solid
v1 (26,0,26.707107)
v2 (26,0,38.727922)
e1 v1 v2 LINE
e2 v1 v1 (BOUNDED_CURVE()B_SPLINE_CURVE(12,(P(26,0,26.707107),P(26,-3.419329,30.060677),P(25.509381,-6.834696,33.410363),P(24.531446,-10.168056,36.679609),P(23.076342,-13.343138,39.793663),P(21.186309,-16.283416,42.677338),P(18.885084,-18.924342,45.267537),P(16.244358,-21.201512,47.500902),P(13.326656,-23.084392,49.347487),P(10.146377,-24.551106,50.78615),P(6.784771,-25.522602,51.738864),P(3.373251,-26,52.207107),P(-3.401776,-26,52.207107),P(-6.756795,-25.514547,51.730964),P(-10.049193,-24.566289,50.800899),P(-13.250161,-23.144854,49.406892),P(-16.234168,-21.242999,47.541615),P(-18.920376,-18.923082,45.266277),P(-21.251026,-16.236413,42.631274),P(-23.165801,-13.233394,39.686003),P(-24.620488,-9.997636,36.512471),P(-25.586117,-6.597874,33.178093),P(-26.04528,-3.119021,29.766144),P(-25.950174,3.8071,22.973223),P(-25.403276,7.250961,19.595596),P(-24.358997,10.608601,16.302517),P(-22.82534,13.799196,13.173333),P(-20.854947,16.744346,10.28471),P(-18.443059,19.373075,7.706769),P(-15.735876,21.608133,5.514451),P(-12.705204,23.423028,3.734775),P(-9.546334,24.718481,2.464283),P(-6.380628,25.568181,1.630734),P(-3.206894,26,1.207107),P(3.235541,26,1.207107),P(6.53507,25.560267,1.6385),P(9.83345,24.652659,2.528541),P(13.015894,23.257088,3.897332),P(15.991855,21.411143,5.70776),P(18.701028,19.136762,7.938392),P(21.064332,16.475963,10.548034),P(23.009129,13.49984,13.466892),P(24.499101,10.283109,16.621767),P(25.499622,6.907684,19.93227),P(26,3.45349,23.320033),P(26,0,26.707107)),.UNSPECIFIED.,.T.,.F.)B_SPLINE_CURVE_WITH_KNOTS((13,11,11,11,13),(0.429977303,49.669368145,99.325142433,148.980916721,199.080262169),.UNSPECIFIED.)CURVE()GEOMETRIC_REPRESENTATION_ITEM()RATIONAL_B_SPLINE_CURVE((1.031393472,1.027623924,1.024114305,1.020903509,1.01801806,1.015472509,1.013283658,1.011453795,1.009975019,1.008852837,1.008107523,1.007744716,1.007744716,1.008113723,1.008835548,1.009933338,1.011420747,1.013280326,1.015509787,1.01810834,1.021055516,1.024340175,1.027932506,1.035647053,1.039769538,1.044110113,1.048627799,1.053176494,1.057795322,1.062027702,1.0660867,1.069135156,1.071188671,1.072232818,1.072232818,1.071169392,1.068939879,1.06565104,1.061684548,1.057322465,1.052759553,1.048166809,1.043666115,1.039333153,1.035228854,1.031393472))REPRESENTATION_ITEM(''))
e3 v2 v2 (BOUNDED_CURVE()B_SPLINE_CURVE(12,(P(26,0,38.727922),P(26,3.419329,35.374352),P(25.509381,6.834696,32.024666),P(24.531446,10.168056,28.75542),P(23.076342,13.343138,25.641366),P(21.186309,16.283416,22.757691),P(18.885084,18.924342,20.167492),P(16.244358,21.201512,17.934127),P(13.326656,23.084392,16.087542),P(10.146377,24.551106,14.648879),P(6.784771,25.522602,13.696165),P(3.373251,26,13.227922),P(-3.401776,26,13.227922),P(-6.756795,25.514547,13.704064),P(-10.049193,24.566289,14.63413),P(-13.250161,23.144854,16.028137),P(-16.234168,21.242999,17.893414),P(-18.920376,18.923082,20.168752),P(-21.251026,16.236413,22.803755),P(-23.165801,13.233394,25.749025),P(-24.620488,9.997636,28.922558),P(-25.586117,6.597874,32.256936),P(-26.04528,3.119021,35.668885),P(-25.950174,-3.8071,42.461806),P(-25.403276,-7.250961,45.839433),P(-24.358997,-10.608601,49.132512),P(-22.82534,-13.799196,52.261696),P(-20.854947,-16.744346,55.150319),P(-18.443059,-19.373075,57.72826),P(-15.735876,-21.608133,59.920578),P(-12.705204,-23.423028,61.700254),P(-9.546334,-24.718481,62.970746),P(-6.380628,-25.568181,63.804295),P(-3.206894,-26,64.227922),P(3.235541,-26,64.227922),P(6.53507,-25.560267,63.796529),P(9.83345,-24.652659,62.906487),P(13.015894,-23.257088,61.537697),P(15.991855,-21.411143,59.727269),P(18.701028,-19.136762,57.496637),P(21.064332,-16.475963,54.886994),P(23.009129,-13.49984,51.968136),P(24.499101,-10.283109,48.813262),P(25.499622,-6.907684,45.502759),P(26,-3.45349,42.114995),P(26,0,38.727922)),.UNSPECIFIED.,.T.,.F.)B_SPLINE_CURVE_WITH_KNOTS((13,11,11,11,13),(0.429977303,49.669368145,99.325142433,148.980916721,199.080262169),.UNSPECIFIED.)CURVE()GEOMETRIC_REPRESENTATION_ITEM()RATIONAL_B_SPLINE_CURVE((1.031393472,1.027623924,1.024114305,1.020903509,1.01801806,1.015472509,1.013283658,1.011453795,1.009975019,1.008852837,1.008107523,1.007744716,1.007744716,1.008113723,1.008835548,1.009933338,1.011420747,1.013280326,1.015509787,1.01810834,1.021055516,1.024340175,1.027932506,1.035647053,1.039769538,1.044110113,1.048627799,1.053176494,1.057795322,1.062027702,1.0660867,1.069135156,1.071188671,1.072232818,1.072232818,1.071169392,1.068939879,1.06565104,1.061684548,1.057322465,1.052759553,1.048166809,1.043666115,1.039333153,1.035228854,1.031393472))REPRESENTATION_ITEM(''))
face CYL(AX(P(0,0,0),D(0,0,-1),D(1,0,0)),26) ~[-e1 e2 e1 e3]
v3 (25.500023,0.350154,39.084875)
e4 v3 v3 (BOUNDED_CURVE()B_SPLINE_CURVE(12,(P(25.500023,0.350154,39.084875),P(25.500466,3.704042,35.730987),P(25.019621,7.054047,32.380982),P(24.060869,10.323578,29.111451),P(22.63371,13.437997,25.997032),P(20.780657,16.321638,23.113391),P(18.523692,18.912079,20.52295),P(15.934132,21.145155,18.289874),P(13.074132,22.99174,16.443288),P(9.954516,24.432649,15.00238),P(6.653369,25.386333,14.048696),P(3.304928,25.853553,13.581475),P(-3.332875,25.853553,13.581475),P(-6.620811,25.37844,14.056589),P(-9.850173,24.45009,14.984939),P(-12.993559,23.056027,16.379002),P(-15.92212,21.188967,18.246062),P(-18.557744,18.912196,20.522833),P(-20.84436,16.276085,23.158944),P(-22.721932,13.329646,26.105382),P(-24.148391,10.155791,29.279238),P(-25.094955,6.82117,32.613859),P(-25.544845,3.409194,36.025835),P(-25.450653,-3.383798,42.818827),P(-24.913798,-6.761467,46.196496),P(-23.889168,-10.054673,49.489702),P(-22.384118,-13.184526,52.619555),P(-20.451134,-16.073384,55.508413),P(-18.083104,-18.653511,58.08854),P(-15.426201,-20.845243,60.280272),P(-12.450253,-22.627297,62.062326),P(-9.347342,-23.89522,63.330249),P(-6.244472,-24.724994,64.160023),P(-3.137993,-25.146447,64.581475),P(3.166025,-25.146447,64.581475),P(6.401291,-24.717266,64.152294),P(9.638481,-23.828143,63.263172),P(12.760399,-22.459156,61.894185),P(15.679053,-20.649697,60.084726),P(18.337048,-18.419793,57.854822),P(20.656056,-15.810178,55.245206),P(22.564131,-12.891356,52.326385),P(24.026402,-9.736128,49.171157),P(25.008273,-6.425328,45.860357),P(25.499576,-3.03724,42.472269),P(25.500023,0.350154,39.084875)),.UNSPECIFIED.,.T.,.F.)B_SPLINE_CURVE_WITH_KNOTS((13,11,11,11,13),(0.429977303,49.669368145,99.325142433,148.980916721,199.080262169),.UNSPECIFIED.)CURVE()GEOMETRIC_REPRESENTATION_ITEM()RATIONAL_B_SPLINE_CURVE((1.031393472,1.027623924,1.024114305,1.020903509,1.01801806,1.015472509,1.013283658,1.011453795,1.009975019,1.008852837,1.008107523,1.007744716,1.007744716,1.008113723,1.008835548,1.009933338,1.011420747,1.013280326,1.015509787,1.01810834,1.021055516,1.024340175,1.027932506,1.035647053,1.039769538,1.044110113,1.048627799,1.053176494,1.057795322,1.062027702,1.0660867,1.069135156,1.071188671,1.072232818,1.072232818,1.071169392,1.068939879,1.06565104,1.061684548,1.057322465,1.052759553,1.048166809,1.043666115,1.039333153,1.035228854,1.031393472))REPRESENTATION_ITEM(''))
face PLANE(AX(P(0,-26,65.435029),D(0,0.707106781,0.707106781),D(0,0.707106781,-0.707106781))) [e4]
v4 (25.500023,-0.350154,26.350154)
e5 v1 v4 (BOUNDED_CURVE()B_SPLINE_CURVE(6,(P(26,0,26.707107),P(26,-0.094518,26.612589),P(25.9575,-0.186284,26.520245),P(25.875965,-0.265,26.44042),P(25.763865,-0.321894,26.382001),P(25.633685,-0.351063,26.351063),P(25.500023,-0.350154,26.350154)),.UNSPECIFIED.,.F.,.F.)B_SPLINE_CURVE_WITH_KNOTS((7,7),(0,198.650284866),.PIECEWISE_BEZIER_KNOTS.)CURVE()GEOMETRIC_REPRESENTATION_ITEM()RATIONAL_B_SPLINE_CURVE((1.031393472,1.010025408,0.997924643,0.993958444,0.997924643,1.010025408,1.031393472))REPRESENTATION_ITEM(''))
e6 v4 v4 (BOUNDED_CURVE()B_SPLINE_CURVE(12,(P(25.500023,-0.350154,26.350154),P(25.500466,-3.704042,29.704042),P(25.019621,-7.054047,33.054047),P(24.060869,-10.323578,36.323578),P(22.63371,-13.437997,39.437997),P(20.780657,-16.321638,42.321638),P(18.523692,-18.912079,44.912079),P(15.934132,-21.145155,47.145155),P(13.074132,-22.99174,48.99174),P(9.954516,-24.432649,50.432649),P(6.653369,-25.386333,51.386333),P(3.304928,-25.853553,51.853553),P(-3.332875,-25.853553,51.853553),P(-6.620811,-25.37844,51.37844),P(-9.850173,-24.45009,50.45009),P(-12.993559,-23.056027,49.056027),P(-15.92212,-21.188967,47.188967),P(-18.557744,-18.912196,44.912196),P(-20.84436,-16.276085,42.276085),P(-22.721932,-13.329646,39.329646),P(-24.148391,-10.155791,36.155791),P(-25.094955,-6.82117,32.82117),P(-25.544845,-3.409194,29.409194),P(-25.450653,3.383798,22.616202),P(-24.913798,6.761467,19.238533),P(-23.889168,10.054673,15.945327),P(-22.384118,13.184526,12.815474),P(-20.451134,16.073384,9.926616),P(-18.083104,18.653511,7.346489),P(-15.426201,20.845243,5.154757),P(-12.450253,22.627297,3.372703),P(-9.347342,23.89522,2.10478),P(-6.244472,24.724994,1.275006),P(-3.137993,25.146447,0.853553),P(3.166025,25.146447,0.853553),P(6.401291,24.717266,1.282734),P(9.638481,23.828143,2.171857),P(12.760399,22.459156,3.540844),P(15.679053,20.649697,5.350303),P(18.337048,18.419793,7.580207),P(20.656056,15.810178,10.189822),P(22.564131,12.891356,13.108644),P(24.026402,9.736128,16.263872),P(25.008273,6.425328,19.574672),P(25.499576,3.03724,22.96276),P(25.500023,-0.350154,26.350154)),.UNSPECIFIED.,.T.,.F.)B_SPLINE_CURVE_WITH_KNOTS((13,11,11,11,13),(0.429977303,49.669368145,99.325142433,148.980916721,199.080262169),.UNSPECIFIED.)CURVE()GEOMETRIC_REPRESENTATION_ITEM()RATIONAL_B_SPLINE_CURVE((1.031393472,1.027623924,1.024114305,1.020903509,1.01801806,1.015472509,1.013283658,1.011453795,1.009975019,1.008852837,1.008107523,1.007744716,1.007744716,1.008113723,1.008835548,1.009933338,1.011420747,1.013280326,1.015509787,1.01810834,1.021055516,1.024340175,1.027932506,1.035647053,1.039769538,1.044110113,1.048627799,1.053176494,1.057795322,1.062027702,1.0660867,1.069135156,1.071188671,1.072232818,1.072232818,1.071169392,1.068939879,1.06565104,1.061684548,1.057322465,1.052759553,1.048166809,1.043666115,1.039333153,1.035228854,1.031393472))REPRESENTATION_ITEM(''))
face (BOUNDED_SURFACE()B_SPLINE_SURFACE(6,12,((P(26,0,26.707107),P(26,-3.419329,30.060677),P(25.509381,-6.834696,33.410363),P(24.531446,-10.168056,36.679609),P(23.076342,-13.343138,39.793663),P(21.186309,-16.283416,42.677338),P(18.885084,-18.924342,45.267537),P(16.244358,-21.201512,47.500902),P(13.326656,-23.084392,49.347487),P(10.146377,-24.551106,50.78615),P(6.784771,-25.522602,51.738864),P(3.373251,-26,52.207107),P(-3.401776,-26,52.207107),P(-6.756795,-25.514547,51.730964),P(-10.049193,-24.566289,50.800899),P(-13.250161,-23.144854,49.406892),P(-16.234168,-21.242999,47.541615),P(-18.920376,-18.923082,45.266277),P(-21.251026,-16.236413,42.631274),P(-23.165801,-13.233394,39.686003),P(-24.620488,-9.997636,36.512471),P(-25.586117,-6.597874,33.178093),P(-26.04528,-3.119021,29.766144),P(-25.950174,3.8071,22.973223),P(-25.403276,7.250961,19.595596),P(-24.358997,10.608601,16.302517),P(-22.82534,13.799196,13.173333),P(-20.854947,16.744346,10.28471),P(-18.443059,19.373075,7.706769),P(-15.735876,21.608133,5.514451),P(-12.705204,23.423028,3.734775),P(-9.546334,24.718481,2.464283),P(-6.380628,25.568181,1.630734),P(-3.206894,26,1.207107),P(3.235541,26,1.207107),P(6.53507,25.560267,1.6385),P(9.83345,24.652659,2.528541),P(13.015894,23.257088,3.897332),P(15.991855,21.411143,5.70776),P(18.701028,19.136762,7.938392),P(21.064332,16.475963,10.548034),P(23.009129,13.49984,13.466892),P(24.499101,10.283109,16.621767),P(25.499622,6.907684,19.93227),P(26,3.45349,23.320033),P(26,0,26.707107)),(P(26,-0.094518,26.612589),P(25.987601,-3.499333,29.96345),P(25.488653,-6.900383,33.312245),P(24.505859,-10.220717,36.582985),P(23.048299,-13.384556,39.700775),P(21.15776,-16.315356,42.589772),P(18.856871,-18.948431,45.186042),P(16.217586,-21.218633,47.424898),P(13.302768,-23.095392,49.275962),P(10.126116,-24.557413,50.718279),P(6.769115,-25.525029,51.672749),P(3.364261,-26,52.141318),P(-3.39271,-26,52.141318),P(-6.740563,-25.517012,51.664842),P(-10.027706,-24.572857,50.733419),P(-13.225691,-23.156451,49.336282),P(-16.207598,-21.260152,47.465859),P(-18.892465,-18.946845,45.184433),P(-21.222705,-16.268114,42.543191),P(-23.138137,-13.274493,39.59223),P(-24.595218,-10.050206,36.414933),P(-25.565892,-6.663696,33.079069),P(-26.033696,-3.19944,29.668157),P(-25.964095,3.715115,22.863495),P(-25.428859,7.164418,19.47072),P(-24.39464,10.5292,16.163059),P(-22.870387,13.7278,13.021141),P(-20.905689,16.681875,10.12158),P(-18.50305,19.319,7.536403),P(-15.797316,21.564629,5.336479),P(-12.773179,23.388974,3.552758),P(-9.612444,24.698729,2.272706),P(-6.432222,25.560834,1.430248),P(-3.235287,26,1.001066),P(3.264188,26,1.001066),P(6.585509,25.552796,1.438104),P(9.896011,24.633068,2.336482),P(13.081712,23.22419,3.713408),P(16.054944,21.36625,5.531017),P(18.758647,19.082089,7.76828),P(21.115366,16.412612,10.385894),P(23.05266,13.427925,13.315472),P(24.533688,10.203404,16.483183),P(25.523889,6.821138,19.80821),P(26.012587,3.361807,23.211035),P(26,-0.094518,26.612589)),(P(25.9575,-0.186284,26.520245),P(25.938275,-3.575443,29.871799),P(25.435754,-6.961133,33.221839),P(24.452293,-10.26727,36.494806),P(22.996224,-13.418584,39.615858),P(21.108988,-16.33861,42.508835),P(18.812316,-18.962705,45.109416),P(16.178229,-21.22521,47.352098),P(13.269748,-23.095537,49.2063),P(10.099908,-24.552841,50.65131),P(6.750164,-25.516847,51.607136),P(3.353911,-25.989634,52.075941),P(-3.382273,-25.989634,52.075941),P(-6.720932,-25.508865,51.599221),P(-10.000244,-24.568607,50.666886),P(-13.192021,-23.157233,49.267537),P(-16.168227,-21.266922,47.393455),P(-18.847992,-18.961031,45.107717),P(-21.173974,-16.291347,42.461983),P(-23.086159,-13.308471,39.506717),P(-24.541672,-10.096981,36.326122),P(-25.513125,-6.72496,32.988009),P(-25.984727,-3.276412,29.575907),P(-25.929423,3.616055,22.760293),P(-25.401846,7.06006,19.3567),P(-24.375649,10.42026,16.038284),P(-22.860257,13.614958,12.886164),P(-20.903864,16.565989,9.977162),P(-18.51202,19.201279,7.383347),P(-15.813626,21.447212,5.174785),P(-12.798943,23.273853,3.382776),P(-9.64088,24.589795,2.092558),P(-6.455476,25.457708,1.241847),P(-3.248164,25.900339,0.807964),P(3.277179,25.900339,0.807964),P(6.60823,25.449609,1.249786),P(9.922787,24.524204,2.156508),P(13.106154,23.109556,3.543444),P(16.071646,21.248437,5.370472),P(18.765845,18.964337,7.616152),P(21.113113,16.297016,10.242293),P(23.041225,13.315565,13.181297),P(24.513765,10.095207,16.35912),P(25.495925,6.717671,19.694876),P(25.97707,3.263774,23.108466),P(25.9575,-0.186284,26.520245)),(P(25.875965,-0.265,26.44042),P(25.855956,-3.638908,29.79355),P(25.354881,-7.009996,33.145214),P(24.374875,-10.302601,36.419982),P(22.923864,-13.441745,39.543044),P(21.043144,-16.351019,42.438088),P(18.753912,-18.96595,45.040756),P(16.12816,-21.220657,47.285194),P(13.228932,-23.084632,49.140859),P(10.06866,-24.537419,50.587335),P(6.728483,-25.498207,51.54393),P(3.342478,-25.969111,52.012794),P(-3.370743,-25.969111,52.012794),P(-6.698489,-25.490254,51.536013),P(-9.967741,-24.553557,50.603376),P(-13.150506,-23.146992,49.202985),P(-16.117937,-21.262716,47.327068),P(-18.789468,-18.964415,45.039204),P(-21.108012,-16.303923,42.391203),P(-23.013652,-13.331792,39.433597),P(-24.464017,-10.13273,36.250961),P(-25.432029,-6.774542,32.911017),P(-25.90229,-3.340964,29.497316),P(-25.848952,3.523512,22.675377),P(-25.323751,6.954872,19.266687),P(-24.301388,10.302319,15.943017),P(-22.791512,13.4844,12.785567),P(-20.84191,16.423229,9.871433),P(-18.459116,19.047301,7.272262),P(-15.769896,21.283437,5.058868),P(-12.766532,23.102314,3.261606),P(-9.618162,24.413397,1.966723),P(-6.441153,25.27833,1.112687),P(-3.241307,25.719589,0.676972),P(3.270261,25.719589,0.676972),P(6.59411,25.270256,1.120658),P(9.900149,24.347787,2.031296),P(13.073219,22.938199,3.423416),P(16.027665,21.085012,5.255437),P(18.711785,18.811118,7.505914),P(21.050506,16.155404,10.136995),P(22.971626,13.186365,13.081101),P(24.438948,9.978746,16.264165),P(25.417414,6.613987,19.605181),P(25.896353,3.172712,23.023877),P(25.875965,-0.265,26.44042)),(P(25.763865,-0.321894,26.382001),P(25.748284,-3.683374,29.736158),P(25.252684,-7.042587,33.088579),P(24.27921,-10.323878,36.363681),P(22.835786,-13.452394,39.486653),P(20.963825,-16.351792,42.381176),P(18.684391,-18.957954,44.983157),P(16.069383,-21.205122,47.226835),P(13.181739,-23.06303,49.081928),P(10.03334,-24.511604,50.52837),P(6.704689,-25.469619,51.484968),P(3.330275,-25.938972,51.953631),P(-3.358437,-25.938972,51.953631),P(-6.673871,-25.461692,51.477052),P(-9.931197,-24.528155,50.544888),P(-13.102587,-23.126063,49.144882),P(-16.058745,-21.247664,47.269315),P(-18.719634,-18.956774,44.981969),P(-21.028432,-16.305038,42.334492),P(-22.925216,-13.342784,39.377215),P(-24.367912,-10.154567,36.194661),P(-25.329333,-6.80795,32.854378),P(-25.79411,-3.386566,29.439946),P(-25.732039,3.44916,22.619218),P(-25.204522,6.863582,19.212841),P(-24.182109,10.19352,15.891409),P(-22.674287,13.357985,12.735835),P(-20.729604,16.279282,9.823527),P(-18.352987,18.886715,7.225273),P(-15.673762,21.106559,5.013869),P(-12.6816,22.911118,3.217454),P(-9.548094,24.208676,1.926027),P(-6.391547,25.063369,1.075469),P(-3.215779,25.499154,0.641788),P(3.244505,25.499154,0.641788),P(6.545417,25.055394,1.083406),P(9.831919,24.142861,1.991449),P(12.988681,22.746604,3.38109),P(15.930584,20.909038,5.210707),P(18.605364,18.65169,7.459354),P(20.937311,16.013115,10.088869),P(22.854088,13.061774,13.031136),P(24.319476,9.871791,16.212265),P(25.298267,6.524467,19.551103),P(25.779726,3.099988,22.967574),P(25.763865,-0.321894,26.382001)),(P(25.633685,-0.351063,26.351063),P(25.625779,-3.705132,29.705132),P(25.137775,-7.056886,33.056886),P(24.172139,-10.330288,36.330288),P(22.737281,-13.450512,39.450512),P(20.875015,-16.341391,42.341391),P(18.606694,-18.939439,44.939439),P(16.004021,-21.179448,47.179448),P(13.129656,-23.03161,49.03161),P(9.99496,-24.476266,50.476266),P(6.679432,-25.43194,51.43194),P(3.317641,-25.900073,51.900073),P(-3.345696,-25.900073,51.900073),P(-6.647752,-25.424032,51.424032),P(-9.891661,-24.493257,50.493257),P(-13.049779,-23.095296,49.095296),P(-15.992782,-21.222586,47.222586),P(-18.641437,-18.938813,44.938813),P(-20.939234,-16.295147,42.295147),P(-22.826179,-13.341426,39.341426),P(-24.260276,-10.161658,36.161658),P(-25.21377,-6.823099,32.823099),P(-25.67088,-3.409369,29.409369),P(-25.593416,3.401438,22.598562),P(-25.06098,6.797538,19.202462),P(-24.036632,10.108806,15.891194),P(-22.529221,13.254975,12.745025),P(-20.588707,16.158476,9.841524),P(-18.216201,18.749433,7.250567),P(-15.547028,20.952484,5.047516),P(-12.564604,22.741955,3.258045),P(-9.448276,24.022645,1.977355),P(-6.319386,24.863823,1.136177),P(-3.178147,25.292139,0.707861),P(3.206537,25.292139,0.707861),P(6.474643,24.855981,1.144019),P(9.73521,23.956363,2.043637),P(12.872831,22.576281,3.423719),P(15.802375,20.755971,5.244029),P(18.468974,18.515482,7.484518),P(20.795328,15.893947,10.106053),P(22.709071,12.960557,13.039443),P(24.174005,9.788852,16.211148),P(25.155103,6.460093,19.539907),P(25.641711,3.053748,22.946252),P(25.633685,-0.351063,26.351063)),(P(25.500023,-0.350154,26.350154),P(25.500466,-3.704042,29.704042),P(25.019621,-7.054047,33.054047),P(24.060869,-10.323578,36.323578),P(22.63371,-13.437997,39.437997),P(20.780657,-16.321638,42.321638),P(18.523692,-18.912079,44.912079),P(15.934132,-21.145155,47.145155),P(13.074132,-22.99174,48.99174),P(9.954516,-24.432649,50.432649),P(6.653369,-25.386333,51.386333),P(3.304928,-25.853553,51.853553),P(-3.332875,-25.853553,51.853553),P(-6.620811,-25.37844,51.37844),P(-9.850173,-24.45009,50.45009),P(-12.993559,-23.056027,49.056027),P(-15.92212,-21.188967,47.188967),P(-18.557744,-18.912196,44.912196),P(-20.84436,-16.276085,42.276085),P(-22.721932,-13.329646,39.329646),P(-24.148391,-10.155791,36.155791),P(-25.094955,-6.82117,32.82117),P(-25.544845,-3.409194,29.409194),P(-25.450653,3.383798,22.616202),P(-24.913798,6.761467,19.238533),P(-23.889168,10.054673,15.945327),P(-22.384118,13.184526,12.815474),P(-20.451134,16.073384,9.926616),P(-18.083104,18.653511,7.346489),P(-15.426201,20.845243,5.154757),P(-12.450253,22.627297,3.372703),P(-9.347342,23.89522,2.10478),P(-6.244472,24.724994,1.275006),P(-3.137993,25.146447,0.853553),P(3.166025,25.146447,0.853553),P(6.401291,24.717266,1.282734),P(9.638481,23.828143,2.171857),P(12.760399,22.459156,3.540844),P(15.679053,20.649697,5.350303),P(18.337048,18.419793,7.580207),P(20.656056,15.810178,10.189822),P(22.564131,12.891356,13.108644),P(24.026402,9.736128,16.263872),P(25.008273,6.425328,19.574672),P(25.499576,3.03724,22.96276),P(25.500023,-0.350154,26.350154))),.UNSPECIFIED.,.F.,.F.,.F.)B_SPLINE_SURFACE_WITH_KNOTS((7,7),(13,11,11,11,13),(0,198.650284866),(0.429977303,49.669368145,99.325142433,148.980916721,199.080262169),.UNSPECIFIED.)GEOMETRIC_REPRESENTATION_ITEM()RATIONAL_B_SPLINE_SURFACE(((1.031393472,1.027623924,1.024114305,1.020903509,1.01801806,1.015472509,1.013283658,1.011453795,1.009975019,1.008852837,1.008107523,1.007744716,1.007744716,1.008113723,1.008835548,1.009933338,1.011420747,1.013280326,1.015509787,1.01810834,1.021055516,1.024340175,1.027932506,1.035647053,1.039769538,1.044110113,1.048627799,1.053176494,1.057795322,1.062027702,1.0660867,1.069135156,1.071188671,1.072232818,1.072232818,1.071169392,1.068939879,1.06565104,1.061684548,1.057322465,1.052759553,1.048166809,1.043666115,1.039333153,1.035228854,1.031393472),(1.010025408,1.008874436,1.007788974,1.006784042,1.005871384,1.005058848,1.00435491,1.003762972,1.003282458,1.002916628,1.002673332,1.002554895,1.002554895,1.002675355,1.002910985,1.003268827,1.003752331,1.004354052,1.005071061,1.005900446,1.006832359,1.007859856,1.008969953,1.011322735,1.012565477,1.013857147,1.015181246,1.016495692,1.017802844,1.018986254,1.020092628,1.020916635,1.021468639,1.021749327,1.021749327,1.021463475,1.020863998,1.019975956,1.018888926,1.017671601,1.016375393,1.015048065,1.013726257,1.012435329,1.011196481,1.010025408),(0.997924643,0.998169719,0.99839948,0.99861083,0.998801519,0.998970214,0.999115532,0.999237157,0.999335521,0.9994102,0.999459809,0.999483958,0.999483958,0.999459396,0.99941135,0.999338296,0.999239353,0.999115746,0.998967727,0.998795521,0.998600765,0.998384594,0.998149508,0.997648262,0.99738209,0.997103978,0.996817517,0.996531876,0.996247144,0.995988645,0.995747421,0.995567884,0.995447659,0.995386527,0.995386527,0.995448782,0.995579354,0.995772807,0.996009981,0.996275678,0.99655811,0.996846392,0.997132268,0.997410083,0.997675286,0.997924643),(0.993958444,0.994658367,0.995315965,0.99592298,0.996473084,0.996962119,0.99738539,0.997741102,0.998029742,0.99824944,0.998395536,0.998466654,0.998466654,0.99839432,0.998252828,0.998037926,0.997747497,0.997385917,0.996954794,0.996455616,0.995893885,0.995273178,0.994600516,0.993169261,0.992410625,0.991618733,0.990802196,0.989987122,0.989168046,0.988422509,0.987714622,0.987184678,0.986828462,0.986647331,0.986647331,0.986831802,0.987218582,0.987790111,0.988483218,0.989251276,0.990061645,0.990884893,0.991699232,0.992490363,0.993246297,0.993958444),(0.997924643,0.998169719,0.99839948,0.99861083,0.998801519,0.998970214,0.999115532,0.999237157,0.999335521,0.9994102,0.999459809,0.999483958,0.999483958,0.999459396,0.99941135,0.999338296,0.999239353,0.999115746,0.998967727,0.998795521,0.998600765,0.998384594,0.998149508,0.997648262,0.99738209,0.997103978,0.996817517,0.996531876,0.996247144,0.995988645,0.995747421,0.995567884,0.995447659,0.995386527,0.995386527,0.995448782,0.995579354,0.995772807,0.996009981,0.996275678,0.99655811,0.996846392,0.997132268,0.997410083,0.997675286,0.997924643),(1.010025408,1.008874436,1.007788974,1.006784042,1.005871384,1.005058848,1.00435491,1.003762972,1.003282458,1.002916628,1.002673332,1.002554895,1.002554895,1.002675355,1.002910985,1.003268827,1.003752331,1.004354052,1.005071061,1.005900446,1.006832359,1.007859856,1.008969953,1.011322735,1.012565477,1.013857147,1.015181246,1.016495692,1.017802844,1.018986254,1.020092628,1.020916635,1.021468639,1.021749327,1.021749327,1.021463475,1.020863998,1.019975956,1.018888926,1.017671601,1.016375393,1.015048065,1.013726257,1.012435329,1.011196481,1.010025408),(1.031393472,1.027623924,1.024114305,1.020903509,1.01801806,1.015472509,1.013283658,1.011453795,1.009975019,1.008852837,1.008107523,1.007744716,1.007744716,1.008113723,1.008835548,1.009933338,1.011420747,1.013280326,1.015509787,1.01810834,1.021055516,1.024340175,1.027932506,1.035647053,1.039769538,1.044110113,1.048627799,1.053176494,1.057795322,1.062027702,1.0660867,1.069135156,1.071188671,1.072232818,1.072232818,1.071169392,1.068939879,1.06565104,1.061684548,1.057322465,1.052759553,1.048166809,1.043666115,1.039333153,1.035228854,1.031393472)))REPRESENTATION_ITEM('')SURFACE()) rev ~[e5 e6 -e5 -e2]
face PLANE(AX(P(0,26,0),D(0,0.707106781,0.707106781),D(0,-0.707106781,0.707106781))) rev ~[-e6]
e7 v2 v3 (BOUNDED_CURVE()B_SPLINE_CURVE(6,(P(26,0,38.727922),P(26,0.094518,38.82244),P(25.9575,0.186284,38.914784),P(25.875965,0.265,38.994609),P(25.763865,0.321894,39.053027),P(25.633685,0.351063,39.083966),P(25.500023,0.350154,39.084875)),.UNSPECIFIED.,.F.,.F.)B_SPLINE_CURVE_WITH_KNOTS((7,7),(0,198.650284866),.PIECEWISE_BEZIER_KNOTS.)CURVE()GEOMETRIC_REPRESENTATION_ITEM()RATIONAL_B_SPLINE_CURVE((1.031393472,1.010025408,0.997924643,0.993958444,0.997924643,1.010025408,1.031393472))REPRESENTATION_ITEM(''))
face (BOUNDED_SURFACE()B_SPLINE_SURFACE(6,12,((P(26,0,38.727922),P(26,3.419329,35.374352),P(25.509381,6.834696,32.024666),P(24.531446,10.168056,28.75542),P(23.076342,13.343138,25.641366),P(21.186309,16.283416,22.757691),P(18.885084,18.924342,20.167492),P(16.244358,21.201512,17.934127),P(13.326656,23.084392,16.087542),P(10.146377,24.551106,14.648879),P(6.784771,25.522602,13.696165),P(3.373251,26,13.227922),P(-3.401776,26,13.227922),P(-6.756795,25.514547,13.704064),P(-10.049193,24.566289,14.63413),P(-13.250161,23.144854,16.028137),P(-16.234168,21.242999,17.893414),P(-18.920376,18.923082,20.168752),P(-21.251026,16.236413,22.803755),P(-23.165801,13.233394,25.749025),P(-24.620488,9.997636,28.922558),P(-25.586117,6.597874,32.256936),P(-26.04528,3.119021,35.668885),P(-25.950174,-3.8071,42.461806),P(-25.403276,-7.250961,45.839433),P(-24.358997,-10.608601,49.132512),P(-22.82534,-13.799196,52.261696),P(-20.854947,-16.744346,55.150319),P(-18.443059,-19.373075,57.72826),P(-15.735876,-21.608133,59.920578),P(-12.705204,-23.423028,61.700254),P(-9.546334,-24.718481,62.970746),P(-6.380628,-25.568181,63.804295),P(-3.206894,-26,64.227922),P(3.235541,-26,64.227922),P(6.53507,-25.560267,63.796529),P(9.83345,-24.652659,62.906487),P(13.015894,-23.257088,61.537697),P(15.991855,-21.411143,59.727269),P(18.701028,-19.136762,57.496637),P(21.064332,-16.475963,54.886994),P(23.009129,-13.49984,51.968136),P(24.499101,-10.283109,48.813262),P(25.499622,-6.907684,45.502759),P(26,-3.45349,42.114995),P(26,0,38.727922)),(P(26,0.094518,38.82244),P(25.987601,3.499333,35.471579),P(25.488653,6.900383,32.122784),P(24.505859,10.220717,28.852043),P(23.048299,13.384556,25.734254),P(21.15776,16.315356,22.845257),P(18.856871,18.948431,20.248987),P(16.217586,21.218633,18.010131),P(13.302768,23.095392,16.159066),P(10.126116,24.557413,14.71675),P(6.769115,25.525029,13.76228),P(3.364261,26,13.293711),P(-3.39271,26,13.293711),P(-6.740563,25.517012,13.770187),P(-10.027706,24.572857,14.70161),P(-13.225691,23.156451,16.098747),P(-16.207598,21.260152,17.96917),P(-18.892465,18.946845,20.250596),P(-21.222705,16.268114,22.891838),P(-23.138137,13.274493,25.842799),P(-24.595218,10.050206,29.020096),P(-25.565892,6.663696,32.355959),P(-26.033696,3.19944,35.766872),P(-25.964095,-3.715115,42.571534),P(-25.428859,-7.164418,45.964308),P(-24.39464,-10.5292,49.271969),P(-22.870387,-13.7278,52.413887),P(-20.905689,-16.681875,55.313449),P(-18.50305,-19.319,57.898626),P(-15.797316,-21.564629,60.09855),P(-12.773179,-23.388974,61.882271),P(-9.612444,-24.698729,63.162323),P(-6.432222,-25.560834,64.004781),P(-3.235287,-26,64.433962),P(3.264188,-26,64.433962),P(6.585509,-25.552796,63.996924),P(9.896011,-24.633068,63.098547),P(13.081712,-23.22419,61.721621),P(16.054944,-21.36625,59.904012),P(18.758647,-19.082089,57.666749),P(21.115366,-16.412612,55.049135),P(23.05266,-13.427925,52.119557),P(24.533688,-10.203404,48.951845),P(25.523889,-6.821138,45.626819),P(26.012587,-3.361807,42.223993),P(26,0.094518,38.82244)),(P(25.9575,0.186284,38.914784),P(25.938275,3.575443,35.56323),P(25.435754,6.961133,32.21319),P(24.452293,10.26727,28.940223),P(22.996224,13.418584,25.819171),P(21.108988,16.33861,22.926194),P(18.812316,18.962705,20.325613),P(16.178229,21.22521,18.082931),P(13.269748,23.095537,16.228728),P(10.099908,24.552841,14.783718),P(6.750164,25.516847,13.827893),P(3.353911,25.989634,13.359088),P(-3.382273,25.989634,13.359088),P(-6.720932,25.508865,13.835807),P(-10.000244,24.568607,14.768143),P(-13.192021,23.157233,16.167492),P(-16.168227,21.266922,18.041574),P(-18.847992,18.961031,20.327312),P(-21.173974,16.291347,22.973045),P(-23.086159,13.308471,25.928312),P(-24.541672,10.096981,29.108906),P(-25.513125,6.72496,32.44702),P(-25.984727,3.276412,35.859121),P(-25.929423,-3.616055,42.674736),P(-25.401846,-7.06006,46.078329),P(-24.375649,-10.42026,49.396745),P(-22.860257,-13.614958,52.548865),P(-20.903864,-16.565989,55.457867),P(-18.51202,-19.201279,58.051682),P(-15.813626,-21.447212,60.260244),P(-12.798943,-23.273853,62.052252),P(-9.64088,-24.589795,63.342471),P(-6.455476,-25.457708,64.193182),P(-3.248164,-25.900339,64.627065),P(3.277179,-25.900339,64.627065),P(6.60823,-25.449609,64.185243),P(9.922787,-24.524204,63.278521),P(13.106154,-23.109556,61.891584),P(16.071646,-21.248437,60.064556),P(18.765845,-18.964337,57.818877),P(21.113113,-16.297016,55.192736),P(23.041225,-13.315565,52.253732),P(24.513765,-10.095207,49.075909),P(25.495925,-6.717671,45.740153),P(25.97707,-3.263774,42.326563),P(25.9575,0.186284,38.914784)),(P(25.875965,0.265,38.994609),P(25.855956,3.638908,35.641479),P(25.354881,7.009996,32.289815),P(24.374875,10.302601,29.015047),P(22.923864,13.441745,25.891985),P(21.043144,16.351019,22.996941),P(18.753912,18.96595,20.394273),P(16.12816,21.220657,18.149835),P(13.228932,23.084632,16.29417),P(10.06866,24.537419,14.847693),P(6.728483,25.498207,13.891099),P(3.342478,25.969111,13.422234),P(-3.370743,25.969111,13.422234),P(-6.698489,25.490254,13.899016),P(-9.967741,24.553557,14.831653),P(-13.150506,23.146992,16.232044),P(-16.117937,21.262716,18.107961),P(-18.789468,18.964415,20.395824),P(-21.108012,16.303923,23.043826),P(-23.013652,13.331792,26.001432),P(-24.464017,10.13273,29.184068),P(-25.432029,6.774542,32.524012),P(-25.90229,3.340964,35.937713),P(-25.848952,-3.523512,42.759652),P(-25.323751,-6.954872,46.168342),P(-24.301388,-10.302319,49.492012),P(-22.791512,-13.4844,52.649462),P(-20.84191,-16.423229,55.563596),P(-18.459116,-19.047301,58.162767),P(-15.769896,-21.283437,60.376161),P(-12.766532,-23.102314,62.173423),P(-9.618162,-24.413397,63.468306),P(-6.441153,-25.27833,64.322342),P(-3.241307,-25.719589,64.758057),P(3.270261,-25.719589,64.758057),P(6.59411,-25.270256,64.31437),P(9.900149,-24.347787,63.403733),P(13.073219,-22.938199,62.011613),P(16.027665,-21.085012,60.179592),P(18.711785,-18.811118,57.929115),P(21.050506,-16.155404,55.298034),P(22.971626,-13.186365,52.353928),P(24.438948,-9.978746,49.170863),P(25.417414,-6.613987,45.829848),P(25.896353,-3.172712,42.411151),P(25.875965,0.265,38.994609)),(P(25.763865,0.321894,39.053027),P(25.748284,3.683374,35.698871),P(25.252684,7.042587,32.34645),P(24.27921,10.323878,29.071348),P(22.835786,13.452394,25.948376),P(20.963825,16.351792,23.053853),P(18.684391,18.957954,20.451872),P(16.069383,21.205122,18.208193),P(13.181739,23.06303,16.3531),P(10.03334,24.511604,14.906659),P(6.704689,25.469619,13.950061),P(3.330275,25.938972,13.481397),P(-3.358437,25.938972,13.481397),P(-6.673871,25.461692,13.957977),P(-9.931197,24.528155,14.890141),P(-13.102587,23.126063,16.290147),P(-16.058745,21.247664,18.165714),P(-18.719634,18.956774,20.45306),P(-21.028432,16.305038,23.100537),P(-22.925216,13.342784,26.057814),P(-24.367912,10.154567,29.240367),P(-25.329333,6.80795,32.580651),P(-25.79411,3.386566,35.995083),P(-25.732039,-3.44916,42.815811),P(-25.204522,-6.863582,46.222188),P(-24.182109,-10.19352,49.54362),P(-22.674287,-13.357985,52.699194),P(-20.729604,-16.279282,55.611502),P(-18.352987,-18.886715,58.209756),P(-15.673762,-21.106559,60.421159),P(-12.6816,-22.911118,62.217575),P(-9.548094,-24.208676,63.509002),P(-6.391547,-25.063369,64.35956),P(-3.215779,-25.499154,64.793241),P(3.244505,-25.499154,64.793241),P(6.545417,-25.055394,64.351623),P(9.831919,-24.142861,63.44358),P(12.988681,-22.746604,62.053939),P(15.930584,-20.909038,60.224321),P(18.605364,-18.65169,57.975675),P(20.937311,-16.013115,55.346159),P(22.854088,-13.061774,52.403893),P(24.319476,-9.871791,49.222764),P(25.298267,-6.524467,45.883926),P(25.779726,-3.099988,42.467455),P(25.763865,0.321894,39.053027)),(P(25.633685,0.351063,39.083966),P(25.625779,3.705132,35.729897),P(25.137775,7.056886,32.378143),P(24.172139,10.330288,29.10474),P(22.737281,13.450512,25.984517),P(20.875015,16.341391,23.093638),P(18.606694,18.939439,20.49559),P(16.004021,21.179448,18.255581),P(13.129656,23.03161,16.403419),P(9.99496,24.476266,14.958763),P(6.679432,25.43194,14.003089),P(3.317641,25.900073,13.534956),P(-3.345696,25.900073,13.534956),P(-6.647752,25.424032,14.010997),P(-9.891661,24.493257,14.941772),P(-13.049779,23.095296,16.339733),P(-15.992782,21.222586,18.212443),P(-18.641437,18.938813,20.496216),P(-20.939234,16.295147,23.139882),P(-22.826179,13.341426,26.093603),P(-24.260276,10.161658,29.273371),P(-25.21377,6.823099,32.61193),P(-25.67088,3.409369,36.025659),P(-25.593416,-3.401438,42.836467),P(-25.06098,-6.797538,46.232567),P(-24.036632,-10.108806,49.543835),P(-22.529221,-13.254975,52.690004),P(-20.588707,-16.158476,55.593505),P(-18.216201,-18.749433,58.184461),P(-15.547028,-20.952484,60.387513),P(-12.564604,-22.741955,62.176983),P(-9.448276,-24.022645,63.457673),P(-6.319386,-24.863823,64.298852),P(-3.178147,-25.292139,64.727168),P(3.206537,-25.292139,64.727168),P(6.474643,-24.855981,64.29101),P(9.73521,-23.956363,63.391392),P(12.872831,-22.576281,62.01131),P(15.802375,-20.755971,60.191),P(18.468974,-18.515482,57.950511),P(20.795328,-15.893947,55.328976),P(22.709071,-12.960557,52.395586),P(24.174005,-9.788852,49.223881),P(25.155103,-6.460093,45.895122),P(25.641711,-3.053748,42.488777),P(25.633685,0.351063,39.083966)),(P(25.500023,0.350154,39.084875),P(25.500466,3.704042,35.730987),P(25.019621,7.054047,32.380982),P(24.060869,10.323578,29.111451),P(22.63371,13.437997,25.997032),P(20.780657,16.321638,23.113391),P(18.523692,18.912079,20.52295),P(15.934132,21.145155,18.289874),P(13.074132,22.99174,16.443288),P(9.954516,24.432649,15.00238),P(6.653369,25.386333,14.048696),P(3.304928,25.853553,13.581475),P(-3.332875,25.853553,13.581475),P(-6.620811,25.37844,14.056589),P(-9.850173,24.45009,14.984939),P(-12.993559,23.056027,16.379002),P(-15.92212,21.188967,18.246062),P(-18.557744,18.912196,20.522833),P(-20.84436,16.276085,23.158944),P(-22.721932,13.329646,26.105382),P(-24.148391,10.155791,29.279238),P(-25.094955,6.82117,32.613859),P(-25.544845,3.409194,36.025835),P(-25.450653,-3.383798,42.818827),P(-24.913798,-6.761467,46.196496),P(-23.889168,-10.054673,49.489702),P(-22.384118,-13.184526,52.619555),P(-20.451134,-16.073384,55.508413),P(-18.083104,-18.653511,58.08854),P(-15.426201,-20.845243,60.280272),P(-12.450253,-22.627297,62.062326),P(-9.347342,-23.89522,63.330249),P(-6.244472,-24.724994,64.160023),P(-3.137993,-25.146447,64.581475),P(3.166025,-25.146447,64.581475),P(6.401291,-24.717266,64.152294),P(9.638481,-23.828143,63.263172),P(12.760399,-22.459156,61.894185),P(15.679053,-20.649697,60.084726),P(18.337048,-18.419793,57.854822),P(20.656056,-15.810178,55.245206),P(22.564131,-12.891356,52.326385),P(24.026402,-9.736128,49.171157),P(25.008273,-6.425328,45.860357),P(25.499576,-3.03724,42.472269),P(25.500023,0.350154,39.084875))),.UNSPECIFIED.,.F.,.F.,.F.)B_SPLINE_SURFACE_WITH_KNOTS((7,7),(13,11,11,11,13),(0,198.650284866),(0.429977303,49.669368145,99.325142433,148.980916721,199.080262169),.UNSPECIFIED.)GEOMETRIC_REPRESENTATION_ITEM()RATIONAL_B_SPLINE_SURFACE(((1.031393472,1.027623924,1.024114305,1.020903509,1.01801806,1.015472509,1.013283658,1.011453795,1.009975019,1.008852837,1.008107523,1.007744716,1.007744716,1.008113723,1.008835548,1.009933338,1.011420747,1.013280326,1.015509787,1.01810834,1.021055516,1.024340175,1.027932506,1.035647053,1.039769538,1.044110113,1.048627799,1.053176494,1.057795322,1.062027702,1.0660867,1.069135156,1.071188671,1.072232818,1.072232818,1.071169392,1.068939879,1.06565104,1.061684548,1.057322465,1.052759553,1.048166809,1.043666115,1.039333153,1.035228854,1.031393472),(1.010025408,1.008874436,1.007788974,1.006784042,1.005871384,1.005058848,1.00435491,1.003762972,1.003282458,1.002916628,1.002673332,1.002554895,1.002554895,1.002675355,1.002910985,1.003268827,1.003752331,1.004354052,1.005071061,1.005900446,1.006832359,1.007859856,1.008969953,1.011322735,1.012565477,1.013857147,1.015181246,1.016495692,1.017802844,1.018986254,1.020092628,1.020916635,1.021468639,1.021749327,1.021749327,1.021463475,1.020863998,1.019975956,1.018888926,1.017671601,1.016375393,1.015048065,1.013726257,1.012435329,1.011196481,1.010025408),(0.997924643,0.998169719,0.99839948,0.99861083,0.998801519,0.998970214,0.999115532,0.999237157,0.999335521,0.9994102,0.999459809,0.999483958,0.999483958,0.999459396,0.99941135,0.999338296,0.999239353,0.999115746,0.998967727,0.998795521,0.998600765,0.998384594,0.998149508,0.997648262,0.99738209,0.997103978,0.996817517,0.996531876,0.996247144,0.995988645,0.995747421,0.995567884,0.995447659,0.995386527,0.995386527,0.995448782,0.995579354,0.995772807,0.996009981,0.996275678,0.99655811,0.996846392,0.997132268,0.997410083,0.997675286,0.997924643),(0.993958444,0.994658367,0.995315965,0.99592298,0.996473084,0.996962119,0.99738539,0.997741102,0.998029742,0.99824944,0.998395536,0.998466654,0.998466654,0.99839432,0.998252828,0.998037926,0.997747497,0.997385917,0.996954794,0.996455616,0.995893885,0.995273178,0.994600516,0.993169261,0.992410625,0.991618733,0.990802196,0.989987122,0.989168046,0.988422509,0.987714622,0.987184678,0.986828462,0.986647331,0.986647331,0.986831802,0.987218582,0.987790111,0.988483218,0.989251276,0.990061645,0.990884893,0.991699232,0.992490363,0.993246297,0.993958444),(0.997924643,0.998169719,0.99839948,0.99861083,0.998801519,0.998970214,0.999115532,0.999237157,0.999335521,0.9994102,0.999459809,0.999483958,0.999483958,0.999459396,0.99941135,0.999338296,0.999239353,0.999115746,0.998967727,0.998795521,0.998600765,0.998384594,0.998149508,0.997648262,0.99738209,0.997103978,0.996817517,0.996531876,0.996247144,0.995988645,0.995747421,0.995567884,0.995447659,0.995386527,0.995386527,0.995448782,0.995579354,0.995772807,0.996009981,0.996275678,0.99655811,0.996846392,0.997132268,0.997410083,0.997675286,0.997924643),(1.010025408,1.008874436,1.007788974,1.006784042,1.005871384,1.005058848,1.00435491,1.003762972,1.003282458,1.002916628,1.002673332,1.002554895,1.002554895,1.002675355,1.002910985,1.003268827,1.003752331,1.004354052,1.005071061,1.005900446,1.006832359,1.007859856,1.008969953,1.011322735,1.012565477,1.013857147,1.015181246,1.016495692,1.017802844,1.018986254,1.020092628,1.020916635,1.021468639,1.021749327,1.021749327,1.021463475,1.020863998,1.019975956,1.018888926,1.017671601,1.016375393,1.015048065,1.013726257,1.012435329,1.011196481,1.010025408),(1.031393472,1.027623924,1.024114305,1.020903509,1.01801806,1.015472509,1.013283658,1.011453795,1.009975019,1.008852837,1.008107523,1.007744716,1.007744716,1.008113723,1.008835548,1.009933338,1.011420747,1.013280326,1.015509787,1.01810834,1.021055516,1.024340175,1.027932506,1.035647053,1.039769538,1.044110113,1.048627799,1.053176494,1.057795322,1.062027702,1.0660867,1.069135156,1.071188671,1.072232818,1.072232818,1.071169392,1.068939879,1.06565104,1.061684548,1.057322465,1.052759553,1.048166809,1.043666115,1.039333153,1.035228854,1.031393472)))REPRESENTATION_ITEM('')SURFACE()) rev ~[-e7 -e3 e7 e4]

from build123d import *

# Parameters (mm, degrees)
SKETCH1_R               = 26
BOSS_EXTRUDE1_DEPTH     = 70
CUT_EXTRUDE1_DEPTH      = 27
CUT_EXTRUDE1_DEPTH_BACK = 27
FILLET1_R               = 0.5


with BuildPart() as part:
    # Sketch1 → Boss-Extrude1 (new body)
    with BuildSketch(Plane.XY):
        Circle(SKETCH1_R)
    extrude(amount=BOSS_EXTRUDE1_DEPTH)

    # Sketch2 → Cut-Extrude1 (cut, two sides)
    with BuildSketch(Plane(origin=(0, 0, 0), x_dir=(0, 0, -1), z_dir=(1, 0, 0))) as cut_extrude1_sk:
        Polygon((0, 26), (-52, -26), (0, -26), align=None)
        Polygon((-65.435028843, -26), (-13.435028843, 26), (-70, 26), (-70, -26), align=None)
    extrude(amount=CUT_EXTRUDE1_DEPTH, mode=Mode.SUBTRACT)
    extrude(cut_extrude1_sk.sketch, amount=-CUT_EXTRUDE1_DEPTH_BACK, mode=Mode.SUBTRACT)

    # Fillet1
    fillet1_edges = [part.edges().sort_by_distance(p)[0] for p in [
        (19.845696436, -16.797271593, 42.797271593),
        (19.845696436, 16.797271593, 22.63775725),
    ]]
    fillet(fillet1_edges, radius=FILLET1_R)


solid = part.part
